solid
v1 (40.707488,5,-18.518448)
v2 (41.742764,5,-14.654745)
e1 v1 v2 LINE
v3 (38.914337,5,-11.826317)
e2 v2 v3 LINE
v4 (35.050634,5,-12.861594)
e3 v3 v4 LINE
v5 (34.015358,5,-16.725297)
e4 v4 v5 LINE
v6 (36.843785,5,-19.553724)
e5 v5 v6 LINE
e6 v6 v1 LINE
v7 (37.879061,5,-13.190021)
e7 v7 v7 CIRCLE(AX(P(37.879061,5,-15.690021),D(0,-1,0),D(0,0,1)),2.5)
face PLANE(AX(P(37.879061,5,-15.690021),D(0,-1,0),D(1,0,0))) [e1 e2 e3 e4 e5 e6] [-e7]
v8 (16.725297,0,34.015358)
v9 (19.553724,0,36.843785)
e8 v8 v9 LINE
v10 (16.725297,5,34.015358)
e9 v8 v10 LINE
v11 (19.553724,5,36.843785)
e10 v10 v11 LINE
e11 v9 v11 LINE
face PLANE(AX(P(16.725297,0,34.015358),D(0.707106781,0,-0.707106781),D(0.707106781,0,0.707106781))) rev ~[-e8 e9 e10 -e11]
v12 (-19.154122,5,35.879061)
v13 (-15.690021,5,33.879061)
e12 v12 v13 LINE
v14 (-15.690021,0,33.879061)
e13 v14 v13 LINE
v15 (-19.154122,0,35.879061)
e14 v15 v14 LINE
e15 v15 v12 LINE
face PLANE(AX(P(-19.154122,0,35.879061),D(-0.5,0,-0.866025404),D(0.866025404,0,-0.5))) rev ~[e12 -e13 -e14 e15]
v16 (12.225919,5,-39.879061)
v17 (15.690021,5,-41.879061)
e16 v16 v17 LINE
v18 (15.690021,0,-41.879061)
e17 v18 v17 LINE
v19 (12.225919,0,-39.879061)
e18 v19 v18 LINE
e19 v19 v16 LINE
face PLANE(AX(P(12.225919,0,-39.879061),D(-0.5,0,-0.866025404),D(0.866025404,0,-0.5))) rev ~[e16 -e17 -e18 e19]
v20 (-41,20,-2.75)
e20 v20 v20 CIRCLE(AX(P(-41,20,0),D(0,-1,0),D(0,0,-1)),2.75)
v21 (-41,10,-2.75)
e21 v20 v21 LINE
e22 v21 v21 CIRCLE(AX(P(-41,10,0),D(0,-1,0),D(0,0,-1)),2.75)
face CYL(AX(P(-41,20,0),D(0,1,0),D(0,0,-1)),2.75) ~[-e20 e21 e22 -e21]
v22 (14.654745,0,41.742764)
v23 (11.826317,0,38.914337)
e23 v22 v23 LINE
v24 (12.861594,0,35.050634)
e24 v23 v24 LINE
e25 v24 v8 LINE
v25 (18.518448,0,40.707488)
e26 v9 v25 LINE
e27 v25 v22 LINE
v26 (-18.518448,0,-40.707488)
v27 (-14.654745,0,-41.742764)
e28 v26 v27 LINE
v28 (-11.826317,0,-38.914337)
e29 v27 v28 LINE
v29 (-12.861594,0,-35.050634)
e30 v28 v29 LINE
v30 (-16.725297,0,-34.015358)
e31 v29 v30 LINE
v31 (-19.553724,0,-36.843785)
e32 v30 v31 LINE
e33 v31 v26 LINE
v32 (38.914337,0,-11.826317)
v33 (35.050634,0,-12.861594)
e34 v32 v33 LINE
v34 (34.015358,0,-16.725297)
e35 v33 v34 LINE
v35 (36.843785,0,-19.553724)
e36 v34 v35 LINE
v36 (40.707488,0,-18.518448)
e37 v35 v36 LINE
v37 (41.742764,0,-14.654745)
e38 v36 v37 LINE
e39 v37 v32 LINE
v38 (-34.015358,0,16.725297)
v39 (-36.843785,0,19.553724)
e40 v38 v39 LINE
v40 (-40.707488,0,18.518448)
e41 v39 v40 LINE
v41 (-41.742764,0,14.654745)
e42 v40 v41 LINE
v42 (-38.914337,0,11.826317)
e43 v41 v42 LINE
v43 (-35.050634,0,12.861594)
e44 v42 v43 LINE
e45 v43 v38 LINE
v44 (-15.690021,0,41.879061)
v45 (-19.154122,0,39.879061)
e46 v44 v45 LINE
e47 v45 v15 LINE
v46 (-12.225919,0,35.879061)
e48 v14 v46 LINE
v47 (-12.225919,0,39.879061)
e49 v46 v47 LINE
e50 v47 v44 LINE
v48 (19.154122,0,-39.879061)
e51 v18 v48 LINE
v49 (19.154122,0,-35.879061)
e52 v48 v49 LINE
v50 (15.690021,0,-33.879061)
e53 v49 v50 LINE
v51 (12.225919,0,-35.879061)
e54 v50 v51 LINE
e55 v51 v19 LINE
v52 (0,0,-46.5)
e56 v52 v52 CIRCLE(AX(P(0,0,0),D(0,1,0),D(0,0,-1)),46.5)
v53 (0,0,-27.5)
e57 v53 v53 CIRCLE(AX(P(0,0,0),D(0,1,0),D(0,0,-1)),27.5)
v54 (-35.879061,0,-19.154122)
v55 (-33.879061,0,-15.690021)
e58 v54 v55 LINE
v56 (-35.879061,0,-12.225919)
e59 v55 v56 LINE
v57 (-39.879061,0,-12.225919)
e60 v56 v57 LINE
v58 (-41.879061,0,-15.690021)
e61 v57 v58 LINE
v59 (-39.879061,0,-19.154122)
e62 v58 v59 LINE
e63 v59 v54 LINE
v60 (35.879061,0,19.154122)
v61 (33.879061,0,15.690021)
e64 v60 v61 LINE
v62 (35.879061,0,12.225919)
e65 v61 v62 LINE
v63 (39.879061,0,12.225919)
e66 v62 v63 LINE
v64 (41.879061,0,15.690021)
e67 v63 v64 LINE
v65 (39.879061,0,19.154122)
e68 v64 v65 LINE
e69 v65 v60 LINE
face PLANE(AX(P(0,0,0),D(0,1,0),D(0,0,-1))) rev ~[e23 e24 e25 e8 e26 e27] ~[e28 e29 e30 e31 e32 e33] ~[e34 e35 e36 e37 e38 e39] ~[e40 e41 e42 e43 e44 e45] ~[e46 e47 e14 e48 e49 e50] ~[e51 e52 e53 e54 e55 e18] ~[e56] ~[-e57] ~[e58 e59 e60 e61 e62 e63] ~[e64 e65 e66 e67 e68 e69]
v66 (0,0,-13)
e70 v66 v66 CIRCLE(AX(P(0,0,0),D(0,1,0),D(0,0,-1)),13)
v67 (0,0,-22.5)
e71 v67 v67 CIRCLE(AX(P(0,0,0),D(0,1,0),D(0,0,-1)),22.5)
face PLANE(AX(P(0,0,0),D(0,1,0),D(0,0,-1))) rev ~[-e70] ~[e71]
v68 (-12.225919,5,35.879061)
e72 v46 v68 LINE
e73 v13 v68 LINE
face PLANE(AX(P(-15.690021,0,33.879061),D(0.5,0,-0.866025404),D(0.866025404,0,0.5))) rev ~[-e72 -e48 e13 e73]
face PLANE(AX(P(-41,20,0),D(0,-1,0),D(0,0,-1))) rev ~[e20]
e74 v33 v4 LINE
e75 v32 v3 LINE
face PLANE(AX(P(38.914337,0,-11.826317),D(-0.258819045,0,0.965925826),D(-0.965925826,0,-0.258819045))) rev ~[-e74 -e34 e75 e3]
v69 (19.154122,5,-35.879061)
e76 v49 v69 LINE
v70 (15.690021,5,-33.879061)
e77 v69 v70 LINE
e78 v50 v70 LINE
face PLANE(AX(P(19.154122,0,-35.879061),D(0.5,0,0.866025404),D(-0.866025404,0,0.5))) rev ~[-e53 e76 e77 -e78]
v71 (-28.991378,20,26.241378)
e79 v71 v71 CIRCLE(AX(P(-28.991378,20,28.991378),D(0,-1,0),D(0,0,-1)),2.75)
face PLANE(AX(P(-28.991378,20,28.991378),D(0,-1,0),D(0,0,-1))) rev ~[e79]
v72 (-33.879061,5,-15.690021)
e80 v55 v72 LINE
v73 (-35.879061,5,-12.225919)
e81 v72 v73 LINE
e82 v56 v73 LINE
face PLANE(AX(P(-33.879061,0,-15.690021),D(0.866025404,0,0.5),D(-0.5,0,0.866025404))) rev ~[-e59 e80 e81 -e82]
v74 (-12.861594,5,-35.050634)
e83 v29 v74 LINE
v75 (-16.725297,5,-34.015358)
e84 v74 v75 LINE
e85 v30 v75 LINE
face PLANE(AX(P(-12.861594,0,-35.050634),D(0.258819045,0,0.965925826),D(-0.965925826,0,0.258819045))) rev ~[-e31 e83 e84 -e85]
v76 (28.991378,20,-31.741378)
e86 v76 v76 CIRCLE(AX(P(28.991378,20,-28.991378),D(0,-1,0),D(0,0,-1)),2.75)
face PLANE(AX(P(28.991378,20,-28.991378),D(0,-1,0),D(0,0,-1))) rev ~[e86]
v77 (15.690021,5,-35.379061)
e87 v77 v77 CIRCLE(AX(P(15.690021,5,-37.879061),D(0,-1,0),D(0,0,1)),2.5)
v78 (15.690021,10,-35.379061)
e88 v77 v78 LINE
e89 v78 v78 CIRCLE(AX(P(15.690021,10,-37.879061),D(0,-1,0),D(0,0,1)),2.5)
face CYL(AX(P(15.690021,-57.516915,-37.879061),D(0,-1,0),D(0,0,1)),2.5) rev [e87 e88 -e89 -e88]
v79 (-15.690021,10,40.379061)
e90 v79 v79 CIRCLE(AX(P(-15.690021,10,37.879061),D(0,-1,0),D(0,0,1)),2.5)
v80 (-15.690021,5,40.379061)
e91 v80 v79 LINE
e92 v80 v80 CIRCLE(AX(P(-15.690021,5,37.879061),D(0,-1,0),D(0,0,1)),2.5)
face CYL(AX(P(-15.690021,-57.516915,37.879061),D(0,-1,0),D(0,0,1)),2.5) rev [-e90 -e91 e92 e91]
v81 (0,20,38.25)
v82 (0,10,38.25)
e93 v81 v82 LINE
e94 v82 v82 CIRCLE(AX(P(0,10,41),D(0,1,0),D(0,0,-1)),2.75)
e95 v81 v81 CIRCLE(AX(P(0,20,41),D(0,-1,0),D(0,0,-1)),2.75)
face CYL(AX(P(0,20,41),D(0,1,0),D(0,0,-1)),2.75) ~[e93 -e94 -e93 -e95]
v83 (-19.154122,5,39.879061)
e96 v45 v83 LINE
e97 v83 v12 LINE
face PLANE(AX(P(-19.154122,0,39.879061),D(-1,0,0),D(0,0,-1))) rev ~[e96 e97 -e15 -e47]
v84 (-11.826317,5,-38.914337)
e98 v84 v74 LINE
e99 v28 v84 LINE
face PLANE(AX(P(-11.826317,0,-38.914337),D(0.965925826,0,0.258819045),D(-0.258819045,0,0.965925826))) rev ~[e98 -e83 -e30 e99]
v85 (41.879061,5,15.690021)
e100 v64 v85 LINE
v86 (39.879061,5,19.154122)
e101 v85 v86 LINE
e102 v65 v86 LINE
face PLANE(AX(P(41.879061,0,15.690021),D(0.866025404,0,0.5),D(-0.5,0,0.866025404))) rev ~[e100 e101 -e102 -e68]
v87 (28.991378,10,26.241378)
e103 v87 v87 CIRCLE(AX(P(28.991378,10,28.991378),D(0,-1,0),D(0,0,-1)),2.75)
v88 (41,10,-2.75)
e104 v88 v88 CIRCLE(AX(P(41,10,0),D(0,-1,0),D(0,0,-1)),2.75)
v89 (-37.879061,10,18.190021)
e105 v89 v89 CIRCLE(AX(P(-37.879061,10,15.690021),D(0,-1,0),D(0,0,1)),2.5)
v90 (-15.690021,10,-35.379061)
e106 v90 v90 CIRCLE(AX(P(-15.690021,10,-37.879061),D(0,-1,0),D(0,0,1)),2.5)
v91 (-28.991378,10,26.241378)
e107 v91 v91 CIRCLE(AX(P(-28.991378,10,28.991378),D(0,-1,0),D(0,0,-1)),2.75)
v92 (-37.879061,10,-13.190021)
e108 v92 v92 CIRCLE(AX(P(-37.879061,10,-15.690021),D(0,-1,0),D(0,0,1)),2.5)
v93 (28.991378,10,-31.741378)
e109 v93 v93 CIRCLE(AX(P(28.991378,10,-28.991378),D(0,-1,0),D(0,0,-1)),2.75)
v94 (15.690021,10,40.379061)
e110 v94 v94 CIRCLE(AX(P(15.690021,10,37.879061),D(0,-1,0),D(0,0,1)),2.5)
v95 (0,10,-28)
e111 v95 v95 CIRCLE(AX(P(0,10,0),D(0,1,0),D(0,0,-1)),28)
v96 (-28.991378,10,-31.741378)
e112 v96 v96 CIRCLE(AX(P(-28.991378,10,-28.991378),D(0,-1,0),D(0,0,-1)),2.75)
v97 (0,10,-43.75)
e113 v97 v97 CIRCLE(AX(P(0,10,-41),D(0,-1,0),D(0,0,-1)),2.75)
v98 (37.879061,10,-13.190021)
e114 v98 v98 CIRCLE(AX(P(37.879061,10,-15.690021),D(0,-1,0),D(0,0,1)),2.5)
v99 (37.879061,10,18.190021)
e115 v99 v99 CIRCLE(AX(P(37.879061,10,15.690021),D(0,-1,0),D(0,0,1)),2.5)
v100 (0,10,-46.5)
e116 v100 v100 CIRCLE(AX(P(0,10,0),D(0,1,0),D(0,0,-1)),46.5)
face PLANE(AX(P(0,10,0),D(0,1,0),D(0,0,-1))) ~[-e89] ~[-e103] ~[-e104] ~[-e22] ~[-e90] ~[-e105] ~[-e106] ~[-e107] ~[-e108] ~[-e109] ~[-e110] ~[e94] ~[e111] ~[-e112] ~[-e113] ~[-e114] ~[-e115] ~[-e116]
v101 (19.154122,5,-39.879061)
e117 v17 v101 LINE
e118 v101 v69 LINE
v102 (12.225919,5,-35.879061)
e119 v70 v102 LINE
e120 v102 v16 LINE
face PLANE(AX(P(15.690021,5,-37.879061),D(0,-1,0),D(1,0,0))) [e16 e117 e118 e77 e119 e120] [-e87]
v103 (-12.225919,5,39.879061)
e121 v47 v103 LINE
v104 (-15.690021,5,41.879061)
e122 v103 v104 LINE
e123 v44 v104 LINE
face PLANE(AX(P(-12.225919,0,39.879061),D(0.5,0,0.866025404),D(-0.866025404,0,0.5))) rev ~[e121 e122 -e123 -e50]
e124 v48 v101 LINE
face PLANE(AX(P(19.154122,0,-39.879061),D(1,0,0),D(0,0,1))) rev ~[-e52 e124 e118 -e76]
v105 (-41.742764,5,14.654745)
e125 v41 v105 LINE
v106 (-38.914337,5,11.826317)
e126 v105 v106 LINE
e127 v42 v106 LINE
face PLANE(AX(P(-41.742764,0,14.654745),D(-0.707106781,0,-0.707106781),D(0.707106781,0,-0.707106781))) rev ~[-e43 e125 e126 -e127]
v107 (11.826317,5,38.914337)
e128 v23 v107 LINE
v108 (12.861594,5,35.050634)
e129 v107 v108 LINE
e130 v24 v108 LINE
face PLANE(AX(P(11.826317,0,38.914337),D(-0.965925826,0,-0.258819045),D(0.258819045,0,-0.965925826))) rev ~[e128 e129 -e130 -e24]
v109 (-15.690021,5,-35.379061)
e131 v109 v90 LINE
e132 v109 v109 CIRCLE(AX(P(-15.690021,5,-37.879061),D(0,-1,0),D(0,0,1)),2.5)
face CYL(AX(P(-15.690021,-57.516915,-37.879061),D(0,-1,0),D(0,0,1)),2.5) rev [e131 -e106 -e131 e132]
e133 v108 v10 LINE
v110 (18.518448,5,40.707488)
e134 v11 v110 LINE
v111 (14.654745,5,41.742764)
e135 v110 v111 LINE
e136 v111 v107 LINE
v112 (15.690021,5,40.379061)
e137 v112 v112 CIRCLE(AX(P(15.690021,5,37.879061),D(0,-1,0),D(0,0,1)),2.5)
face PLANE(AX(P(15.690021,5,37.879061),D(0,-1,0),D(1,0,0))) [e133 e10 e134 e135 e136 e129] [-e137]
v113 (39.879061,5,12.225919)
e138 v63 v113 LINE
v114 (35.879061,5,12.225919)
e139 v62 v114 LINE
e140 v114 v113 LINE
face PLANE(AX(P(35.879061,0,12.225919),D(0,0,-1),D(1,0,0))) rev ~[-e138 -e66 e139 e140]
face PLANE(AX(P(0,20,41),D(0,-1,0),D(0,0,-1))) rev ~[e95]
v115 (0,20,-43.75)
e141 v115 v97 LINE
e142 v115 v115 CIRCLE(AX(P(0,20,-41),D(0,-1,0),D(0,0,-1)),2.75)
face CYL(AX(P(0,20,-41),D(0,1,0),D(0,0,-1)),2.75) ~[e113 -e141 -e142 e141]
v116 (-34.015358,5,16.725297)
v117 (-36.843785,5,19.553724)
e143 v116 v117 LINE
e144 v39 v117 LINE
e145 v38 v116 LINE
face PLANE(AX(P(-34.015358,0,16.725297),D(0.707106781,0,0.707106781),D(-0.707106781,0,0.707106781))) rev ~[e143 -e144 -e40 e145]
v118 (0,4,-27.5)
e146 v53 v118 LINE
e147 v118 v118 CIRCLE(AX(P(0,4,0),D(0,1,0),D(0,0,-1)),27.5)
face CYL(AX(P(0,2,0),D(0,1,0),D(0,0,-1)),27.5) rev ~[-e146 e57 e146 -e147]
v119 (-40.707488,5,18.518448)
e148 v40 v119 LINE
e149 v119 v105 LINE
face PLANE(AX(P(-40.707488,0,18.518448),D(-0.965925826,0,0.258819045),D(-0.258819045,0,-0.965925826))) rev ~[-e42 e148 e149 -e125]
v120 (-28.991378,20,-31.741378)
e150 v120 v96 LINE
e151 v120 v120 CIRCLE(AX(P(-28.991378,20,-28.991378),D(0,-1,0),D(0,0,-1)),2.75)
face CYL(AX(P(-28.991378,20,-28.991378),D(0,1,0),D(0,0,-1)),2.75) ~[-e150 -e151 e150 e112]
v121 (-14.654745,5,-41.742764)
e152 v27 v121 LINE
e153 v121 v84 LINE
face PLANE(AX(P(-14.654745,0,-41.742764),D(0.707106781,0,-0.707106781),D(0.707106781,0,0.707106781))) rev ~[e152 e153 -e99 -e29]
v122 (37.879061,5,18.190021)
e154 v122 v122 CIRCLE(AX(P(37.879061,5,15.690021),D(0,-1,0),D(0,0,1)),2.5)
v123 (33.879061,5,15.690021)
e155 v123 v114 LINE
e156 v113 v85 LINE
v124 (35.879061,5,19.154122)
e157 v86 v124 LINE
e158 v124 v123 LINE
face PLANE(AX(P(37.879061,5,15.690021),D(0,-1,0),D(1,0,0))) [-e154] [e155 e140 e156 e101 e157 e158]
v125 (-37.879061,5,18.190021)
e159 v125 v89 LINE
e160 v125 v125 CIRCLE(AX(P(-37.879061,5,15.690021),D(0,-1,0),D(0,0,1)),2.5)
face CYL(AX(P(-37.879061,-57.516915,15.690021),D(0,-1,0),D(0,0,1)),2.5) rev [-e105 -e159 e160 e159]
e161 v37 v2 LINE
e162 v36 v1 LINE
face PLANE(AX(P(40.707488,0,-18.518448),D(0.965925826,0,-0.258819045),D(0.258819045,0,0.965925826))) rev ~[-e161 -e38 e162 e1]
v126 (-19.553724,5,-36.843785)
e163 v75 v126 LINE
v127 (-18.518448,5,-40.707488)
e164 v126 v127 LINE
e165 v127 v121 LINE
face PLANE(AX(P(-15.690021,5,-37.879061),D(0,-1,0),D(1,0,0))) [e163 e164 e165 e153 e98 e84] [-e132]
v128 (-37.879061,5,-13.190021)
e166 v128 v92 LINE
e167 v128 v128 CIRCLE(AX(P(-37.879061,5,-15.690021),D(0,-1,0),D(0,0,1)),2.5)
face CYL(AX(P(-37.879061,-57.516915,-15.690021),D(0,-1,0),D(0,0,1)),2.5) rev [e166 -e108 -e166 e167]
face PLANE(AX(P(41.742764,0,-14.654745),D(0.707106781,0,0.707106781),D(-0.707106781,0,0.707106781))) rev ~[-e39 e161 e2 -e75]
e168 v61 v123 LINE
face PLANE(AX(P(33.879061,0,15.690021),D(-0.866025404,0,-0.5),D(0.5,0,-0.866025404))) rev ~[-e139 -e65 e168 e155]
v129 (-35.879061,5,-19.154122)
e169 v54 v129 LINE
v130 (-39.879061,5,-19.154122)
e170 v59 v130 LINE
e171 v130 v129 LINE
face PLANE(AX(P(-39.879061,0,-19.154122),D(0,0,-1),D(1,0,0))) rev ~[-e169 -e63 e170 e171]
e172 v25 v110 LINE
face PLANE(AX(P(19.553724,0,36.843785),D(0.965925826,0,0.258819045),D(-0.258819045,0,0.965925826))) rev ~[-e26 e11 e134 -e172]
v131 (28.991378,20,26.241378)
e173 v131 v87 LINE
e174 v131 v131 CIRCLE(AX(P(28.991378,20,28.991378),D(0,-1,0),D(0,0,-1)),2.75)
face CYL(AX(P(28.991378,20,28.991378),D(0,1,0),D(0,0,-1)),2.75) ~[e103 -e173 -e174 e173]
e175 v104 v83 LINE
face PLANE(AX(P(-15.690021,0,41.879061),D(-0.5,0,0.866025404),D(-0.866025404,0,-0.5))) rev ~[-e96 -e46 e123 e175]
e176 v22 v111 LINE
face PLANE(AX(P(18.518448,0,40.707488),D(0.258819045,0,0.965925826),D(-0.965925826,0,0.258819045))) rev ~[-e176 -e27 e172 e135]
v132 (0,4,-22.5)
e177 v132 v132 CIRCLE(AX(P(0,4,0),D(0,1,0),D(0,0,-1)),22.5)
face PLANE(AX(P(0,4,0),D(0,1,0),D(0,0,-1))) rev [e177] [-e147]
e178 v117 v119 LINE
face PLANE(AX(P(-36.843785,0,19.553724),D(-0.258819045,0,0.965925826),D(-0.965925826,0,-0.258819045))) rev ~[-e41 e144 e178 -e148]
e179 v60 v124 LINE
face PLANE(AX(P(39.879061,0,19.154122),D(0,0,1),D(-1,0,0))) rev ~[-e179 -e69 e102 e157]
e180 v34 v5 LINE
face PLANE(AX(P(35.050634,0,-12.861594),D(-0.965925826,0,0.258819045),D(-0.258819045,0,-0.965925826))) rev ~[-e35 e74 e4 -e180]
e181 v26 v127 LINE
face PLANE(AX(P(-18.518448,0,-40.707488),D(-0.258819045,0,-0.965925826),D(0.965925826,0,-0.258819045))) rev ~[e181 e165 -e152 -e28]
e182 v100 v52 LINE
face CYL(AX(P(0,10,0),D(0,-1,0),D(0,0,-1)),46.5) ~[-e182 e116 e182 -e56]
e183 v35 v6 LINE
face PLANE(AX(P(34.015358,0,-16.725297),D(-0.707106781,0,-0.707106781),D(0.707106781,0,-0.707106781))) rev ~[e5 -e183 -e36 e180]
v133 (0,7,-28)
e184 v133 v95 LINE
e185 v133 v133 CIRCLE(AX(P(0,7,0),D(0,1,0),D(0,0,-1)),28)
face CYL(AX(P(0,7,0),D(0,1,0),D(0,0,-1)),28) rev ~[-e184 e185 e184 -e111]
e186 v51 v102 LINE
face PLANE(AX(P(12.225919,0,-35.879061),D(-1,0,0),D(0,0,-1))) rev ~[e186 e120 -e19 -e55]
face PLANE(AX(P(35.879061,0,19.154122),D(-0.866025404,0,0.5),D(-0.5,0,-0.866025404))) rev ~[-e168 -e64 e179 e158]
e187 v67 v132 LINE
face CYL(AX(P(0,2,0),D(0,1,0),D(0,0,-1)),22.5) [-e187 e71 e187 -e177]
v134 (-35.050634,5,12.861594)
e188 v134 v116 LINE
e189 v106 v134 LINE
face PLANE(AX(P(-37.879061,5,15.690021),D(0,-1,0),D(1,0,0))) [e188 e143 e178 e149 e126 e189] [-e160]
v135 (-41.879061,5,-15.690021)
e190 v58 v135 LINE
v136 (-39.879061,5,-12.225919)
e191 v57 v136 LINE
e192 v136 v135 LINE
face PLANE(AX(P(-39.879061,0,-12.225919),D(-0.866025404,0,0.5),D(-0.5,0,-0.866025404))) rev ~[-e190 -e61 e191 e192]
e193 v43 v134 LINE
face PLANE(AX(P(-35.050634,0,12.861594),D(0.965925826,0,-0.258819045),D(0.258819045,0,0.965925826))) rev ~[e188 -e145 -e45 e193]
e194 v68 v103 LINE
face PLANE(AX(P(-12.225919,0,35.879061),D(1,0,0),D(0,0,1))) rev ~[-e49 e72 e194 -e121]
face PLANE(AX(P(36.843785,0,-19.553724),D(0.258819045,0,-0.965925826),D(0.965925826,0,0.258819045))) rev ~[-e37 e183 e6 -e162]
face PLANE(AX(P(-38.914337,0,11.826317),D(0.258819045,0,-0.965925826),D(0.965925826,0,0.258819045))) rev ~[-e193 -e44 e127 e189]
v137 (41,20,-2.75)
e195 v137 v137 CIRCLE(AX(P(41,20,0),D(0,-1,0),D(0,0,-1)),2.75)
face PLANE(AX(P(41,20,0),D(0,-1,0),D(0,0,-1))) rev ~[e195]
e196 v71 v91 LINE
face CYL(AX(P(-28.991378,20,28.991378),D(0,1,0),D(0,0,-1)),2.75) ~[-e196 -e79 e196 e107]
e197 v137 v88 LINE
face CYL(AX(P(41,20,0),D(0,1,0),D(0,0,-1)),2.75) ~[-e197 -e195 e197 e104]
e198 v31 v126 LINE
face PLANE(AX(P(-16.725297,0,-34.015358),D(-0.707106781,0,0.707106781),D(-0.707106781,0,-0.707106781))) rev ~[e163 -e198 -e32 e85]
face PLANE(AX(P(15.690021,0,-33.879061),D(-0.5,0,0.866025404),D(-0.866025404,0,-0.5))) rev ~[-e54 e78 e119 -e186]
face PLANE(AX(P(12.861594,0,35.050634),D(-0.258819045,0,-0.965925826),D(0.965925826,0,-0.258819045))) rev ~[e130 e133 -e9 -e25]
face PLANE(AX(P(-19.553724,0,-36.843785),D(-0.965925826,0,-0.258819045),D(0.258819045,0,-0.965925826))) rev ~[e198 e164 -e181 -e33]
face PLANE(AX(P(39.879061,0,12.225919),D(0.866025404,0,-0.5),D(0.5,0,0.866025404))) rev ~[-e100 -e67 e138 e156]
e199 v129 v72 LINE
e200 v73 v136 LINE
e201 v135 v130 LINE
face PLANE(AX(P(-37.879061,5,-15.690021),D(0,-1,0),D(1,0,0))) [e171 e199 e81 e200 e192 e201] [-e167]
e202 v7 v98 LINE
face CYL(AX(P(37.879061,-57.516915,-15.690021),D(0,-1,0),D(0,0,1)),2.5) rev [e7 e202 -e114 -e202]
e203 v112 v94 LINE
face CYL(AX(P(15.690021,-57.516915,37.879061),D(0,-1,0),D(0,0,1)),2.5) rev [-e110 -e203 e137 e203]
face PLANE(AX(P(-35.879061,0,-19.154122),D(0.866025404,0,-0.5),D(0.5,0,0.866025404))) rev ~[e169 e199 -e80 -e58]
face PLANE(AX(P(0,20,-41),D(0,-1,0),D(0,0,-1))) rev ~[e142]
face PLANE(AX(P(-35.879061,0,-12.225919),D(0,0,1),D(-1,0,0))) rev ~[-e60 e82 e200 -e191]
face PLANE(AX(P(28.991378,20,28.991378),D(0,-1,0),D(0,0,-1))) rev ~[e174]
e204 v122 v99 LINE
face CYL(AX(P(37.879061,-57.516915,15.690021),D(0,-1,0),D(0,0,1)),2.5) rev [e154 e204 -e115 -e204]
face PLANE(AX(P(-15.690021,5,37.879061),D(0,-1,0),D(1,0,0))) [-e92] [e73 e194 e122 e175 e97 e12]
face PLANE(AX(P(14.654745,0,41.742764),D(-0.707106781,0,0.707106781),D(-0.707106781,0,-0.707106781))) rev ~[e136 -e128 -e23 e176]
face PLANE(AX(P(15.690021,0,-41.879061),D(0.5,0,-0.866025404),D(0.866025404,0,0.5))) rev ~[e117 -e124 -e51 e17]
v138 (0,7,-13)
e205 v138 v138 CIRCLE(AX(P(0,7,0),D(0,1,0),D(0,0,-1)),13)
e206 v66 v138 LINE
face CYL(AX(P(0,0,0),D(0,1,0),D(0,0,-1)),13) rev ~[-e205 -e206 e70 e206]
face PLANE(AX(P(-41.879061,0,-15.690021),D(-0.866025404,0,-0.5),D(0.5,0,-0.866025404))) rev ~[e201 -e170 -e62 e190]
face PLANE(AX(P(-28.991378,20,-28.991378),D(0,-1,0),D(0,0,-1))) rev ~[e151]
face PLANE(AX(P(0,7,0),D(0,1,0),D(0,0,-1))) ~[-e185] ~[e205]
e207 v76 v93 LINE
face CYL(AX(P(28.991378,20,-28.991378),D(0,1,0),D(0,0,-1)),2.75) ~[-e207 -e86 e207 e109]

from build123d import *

# Parameters (mm, degrees)
CUT_EXTRUDE1_DEPTH      = 67.516915142
CUT_EXTRUDE1_DEPTH_BACK = 67.516915142
SKETCH2_R               = 2.75
SKETCH2_R_2             = 2.5
SKETCH3_W               = 5
SKETCH3_H               = 4
CUT_EXTRUDE2_DEPTH      = 5
BOSS_EXTRUDE1_START     = -20
SKETCH5_R               = 2.75
BOSS_EXTRUDE1_DEPTH     = 20


with BuildPart() as part:
    # Sketch1 → Revolve1 (revolve)
    with BuildSketch(Plane.XY, mode=Mode.PRIVATE) as revolve1_sk:
        Polygon((-28, 10), (-46.5, 10), (-46.5, 0), (-13, 0), (-13, 7), (-28, 7), align=None)
    revolve(revolve1_sk.sketch.rotate(Axis((0, -1.751877994, 0), (0, 1, 0)), 270), axis=Axis((0, -1.751877994, 0), (0, 1, 0)))

    # Sketch2 → Cut-Extrude1 (cut, two sides: drawn at the far end of the back side and taken through both)
    with BuildSketch(Plane(origin=(0, 10, 0), x_dir=(1, 0, 0), z_dir=(0, 1, 0)).offset(-CUT_EXTRUDE1_DEPTH_BACK)):
        with Locations(Location((0, 41, 0), (0, 0, 270))):
            Circle(SKETCH2_R)
        with Locations(Location((15.690020727, 37.879060833, 0), (0, 0, 270))):
            Circle(SKETCH2_R_2)
        with Locations(Location((28.991378029, 28.991378029, 0), (0, 0, 270))):
            Circle(SKETCH2_R)
        with Locations(Location((37.879060833, 15.690020727, 0), (0, 0, 270))):
            Circle(SKETCH2_R_2)
        with Locations(Location((41, 0, 0), (0, 0, 270))):
            Circle(SKETCH2_R)
        with Locations(Location((37.879060833, -15.690020727, 0), (0, 0, 270))):
            Circle(SKETCH2_R_2)
        with Locations(Location((28.991378029, -28.991378029, 0), (0, 0, 270))):
            Circle(SKETCH2_R)
        with Locations(Location((15.690020727, -37.879060833, 0), (0, 0, 270))):
            Circle(SKETCH2_R_2)
        with Locations(Location((0, -41, 0), (0, 0, 270))):
            Circle(SKETCH2_R)
        with Locations(Location((-15.690020727, -37.879060833, 0), (0, 0, 270))):
            Circle(SKETCH2_R_2)
        with Locations(Location((-28.991378029, -28.991378029, 0), (0, 0, 270))):
            Circle(SKETCH2_R)
        with Locations(Location((-37.879060833, -15.690020727, 0), (0, 0, 270))):
            Circle(SKETCH2_R_2)
        with Locations(Location((-41, 0, 0), (0, 0, 270))):
            Circle(SKETCH2_R)
        with Locations(Location((-37.879060833, 15.690020727, 0), (0, 0, 270))):
            Circle(SKETCH2_R_2)
        with Locations(Location((-28.991378029, 28.991378029, 0), (0, 0, 270))):
            Circle(SKETCH2_R)
        with Locations(Location((-15.690020727, 37.879060833, 0), (0, 0, 270))):
            Circle(SKETCH2_R_2)
    extrude(amount=CUT_EXTRUDE1_DEPTH + CUT_EXTRUDE1_DEPTH_BACK, mode=Mode.SUBTRACT)

    # Sketch3 → Cut-Revolve1 (revolve, cut)
    with BuildSketch(Plane.XY, mode=Mode.PRIVATE) as cut_revolve1_sk:
        with Locations((25, 2)):
            Rectangle(SKETCH3_W, SKETCH3_H)
    revolve(cut_revolve1_sk.sketch.rotate(Axis((0, -19.065406541, 0), (0, 1, 0)), 90), axis=Axis((0, -19.065406541, 0), (0, 1, 0)), mode=Mode.SUBTRACT)

    # Sketch4 → Cut-Extrude2 (cut)
    with BuildSketch(Plane.XZ):
        Polygon((-19.154122342, 39.879060833), (-19.154122342, 35.879060833), (-15.690020727, 33.879060833), (-12.225919112, 35.879060833), (-12.225919112, 39.879060833), (-15.690020727, 41.879060833), align=None)
        Polygon((18.518447852, 40.707487958), (14.654744547, 41.742764138), (11.826317422, 38.914337013), (12.861593602, 35.050633708), (16.725296907, 34.015357528), (19.553724032, 36.843784653), align=None)
        Polygon((41.879060833, 15.690020727), (39.879060833, 19.154122342), (35.879060833, 19.154122342), (33.879060833, 15.690020727), (35.879060833, 12.225919112), (39.879060833, 12.225919112), align=None)
        Polygon((40.707487958, -18.518447852), (41.742764138, -14.654744547), (38.914337013, -11.826317422), (35.050633708, -12.861593602), (34.015357528, -16.725296907), (36.843784653, -19.553724032), align=None)
        Polygon((15.690020727, -41.879060833), (19.154122342, -39.879060833), (19.154122342, -35.879060833), (15.690020727, -33.879060833), (12.225919112, -35.879060833), (12.225919112, -39.879060833), align=None)
        Polygon((-18.518447852, -40.707487958), (-14.654744547, -41.742764138), (-11.826317422, -38.914337013), (-12.861593602, -35.050633708), (-16.725296907, -34.015357528), (-19.553724032, -36.843784653), align=None)
        Polygon((-41.879060833, -15.690020727), (-39.879060833, -19.154122342), (-35.879060833, -19.154122342), (-33.879060833, -15.690020727), (-35.879060833, -12.225919112), (-39.879060833, -12.225919112), align=None)
        Polygon((-40.707487958, 18.518447852), (-41.742764138, 14.654744547), (-38.914337013, 11.826317422), (-35.050633708, 12.861593602), (-34.015357528, 16.725296907), (-36.843784653, 19.553724032), align=None)
    extrude(amount=-CUT_EXTRUDE2_DEPTH, mode=Mode.SUBTRACT)

    # Sketch5 → Boss-Extrude1 (add)
    with BuildSketch(Plane.XZ.offset(BOSS_EXTRUDE1_START)):
        with Locations(Location((0, 41, 0), (0, 0, 270))):
            Circle(SKETCH5_R)
        with Locations(Location((28.991378029, 28.991378029, 0), (0, 0, 270))):
            Circle(SKETCH5_R)
        with Locations(Location((41, 0, 0), (0, 0, 270))):
            Circle(SKETCH5_R)
        with Locations(Location((28.991378029, -28.991378029, 0), (0, 0, 270))):
            Circle(SKETCH5_R)
        with Locations(Location((0, -41, 0), (0, 0, 270))):
            Circle(SKETCH5_R)
        with Locations(Location((-28.991378029, -28.991378029, 0), (0, 0, 270))):
            Circle(SKETCH5_R)
        with Locations(Location((-41, 0, 0), (0, 0, 270))):
            Circle(SKETCH5_R)
        with Locations(Location((-28.991378029, 28.991378029, 0), (0, 0, 270))):
            Circle(SKETCH5_R)
    extrude(amount=BOSS_EXTRUDE1_DEPTH)


solid = part.part
